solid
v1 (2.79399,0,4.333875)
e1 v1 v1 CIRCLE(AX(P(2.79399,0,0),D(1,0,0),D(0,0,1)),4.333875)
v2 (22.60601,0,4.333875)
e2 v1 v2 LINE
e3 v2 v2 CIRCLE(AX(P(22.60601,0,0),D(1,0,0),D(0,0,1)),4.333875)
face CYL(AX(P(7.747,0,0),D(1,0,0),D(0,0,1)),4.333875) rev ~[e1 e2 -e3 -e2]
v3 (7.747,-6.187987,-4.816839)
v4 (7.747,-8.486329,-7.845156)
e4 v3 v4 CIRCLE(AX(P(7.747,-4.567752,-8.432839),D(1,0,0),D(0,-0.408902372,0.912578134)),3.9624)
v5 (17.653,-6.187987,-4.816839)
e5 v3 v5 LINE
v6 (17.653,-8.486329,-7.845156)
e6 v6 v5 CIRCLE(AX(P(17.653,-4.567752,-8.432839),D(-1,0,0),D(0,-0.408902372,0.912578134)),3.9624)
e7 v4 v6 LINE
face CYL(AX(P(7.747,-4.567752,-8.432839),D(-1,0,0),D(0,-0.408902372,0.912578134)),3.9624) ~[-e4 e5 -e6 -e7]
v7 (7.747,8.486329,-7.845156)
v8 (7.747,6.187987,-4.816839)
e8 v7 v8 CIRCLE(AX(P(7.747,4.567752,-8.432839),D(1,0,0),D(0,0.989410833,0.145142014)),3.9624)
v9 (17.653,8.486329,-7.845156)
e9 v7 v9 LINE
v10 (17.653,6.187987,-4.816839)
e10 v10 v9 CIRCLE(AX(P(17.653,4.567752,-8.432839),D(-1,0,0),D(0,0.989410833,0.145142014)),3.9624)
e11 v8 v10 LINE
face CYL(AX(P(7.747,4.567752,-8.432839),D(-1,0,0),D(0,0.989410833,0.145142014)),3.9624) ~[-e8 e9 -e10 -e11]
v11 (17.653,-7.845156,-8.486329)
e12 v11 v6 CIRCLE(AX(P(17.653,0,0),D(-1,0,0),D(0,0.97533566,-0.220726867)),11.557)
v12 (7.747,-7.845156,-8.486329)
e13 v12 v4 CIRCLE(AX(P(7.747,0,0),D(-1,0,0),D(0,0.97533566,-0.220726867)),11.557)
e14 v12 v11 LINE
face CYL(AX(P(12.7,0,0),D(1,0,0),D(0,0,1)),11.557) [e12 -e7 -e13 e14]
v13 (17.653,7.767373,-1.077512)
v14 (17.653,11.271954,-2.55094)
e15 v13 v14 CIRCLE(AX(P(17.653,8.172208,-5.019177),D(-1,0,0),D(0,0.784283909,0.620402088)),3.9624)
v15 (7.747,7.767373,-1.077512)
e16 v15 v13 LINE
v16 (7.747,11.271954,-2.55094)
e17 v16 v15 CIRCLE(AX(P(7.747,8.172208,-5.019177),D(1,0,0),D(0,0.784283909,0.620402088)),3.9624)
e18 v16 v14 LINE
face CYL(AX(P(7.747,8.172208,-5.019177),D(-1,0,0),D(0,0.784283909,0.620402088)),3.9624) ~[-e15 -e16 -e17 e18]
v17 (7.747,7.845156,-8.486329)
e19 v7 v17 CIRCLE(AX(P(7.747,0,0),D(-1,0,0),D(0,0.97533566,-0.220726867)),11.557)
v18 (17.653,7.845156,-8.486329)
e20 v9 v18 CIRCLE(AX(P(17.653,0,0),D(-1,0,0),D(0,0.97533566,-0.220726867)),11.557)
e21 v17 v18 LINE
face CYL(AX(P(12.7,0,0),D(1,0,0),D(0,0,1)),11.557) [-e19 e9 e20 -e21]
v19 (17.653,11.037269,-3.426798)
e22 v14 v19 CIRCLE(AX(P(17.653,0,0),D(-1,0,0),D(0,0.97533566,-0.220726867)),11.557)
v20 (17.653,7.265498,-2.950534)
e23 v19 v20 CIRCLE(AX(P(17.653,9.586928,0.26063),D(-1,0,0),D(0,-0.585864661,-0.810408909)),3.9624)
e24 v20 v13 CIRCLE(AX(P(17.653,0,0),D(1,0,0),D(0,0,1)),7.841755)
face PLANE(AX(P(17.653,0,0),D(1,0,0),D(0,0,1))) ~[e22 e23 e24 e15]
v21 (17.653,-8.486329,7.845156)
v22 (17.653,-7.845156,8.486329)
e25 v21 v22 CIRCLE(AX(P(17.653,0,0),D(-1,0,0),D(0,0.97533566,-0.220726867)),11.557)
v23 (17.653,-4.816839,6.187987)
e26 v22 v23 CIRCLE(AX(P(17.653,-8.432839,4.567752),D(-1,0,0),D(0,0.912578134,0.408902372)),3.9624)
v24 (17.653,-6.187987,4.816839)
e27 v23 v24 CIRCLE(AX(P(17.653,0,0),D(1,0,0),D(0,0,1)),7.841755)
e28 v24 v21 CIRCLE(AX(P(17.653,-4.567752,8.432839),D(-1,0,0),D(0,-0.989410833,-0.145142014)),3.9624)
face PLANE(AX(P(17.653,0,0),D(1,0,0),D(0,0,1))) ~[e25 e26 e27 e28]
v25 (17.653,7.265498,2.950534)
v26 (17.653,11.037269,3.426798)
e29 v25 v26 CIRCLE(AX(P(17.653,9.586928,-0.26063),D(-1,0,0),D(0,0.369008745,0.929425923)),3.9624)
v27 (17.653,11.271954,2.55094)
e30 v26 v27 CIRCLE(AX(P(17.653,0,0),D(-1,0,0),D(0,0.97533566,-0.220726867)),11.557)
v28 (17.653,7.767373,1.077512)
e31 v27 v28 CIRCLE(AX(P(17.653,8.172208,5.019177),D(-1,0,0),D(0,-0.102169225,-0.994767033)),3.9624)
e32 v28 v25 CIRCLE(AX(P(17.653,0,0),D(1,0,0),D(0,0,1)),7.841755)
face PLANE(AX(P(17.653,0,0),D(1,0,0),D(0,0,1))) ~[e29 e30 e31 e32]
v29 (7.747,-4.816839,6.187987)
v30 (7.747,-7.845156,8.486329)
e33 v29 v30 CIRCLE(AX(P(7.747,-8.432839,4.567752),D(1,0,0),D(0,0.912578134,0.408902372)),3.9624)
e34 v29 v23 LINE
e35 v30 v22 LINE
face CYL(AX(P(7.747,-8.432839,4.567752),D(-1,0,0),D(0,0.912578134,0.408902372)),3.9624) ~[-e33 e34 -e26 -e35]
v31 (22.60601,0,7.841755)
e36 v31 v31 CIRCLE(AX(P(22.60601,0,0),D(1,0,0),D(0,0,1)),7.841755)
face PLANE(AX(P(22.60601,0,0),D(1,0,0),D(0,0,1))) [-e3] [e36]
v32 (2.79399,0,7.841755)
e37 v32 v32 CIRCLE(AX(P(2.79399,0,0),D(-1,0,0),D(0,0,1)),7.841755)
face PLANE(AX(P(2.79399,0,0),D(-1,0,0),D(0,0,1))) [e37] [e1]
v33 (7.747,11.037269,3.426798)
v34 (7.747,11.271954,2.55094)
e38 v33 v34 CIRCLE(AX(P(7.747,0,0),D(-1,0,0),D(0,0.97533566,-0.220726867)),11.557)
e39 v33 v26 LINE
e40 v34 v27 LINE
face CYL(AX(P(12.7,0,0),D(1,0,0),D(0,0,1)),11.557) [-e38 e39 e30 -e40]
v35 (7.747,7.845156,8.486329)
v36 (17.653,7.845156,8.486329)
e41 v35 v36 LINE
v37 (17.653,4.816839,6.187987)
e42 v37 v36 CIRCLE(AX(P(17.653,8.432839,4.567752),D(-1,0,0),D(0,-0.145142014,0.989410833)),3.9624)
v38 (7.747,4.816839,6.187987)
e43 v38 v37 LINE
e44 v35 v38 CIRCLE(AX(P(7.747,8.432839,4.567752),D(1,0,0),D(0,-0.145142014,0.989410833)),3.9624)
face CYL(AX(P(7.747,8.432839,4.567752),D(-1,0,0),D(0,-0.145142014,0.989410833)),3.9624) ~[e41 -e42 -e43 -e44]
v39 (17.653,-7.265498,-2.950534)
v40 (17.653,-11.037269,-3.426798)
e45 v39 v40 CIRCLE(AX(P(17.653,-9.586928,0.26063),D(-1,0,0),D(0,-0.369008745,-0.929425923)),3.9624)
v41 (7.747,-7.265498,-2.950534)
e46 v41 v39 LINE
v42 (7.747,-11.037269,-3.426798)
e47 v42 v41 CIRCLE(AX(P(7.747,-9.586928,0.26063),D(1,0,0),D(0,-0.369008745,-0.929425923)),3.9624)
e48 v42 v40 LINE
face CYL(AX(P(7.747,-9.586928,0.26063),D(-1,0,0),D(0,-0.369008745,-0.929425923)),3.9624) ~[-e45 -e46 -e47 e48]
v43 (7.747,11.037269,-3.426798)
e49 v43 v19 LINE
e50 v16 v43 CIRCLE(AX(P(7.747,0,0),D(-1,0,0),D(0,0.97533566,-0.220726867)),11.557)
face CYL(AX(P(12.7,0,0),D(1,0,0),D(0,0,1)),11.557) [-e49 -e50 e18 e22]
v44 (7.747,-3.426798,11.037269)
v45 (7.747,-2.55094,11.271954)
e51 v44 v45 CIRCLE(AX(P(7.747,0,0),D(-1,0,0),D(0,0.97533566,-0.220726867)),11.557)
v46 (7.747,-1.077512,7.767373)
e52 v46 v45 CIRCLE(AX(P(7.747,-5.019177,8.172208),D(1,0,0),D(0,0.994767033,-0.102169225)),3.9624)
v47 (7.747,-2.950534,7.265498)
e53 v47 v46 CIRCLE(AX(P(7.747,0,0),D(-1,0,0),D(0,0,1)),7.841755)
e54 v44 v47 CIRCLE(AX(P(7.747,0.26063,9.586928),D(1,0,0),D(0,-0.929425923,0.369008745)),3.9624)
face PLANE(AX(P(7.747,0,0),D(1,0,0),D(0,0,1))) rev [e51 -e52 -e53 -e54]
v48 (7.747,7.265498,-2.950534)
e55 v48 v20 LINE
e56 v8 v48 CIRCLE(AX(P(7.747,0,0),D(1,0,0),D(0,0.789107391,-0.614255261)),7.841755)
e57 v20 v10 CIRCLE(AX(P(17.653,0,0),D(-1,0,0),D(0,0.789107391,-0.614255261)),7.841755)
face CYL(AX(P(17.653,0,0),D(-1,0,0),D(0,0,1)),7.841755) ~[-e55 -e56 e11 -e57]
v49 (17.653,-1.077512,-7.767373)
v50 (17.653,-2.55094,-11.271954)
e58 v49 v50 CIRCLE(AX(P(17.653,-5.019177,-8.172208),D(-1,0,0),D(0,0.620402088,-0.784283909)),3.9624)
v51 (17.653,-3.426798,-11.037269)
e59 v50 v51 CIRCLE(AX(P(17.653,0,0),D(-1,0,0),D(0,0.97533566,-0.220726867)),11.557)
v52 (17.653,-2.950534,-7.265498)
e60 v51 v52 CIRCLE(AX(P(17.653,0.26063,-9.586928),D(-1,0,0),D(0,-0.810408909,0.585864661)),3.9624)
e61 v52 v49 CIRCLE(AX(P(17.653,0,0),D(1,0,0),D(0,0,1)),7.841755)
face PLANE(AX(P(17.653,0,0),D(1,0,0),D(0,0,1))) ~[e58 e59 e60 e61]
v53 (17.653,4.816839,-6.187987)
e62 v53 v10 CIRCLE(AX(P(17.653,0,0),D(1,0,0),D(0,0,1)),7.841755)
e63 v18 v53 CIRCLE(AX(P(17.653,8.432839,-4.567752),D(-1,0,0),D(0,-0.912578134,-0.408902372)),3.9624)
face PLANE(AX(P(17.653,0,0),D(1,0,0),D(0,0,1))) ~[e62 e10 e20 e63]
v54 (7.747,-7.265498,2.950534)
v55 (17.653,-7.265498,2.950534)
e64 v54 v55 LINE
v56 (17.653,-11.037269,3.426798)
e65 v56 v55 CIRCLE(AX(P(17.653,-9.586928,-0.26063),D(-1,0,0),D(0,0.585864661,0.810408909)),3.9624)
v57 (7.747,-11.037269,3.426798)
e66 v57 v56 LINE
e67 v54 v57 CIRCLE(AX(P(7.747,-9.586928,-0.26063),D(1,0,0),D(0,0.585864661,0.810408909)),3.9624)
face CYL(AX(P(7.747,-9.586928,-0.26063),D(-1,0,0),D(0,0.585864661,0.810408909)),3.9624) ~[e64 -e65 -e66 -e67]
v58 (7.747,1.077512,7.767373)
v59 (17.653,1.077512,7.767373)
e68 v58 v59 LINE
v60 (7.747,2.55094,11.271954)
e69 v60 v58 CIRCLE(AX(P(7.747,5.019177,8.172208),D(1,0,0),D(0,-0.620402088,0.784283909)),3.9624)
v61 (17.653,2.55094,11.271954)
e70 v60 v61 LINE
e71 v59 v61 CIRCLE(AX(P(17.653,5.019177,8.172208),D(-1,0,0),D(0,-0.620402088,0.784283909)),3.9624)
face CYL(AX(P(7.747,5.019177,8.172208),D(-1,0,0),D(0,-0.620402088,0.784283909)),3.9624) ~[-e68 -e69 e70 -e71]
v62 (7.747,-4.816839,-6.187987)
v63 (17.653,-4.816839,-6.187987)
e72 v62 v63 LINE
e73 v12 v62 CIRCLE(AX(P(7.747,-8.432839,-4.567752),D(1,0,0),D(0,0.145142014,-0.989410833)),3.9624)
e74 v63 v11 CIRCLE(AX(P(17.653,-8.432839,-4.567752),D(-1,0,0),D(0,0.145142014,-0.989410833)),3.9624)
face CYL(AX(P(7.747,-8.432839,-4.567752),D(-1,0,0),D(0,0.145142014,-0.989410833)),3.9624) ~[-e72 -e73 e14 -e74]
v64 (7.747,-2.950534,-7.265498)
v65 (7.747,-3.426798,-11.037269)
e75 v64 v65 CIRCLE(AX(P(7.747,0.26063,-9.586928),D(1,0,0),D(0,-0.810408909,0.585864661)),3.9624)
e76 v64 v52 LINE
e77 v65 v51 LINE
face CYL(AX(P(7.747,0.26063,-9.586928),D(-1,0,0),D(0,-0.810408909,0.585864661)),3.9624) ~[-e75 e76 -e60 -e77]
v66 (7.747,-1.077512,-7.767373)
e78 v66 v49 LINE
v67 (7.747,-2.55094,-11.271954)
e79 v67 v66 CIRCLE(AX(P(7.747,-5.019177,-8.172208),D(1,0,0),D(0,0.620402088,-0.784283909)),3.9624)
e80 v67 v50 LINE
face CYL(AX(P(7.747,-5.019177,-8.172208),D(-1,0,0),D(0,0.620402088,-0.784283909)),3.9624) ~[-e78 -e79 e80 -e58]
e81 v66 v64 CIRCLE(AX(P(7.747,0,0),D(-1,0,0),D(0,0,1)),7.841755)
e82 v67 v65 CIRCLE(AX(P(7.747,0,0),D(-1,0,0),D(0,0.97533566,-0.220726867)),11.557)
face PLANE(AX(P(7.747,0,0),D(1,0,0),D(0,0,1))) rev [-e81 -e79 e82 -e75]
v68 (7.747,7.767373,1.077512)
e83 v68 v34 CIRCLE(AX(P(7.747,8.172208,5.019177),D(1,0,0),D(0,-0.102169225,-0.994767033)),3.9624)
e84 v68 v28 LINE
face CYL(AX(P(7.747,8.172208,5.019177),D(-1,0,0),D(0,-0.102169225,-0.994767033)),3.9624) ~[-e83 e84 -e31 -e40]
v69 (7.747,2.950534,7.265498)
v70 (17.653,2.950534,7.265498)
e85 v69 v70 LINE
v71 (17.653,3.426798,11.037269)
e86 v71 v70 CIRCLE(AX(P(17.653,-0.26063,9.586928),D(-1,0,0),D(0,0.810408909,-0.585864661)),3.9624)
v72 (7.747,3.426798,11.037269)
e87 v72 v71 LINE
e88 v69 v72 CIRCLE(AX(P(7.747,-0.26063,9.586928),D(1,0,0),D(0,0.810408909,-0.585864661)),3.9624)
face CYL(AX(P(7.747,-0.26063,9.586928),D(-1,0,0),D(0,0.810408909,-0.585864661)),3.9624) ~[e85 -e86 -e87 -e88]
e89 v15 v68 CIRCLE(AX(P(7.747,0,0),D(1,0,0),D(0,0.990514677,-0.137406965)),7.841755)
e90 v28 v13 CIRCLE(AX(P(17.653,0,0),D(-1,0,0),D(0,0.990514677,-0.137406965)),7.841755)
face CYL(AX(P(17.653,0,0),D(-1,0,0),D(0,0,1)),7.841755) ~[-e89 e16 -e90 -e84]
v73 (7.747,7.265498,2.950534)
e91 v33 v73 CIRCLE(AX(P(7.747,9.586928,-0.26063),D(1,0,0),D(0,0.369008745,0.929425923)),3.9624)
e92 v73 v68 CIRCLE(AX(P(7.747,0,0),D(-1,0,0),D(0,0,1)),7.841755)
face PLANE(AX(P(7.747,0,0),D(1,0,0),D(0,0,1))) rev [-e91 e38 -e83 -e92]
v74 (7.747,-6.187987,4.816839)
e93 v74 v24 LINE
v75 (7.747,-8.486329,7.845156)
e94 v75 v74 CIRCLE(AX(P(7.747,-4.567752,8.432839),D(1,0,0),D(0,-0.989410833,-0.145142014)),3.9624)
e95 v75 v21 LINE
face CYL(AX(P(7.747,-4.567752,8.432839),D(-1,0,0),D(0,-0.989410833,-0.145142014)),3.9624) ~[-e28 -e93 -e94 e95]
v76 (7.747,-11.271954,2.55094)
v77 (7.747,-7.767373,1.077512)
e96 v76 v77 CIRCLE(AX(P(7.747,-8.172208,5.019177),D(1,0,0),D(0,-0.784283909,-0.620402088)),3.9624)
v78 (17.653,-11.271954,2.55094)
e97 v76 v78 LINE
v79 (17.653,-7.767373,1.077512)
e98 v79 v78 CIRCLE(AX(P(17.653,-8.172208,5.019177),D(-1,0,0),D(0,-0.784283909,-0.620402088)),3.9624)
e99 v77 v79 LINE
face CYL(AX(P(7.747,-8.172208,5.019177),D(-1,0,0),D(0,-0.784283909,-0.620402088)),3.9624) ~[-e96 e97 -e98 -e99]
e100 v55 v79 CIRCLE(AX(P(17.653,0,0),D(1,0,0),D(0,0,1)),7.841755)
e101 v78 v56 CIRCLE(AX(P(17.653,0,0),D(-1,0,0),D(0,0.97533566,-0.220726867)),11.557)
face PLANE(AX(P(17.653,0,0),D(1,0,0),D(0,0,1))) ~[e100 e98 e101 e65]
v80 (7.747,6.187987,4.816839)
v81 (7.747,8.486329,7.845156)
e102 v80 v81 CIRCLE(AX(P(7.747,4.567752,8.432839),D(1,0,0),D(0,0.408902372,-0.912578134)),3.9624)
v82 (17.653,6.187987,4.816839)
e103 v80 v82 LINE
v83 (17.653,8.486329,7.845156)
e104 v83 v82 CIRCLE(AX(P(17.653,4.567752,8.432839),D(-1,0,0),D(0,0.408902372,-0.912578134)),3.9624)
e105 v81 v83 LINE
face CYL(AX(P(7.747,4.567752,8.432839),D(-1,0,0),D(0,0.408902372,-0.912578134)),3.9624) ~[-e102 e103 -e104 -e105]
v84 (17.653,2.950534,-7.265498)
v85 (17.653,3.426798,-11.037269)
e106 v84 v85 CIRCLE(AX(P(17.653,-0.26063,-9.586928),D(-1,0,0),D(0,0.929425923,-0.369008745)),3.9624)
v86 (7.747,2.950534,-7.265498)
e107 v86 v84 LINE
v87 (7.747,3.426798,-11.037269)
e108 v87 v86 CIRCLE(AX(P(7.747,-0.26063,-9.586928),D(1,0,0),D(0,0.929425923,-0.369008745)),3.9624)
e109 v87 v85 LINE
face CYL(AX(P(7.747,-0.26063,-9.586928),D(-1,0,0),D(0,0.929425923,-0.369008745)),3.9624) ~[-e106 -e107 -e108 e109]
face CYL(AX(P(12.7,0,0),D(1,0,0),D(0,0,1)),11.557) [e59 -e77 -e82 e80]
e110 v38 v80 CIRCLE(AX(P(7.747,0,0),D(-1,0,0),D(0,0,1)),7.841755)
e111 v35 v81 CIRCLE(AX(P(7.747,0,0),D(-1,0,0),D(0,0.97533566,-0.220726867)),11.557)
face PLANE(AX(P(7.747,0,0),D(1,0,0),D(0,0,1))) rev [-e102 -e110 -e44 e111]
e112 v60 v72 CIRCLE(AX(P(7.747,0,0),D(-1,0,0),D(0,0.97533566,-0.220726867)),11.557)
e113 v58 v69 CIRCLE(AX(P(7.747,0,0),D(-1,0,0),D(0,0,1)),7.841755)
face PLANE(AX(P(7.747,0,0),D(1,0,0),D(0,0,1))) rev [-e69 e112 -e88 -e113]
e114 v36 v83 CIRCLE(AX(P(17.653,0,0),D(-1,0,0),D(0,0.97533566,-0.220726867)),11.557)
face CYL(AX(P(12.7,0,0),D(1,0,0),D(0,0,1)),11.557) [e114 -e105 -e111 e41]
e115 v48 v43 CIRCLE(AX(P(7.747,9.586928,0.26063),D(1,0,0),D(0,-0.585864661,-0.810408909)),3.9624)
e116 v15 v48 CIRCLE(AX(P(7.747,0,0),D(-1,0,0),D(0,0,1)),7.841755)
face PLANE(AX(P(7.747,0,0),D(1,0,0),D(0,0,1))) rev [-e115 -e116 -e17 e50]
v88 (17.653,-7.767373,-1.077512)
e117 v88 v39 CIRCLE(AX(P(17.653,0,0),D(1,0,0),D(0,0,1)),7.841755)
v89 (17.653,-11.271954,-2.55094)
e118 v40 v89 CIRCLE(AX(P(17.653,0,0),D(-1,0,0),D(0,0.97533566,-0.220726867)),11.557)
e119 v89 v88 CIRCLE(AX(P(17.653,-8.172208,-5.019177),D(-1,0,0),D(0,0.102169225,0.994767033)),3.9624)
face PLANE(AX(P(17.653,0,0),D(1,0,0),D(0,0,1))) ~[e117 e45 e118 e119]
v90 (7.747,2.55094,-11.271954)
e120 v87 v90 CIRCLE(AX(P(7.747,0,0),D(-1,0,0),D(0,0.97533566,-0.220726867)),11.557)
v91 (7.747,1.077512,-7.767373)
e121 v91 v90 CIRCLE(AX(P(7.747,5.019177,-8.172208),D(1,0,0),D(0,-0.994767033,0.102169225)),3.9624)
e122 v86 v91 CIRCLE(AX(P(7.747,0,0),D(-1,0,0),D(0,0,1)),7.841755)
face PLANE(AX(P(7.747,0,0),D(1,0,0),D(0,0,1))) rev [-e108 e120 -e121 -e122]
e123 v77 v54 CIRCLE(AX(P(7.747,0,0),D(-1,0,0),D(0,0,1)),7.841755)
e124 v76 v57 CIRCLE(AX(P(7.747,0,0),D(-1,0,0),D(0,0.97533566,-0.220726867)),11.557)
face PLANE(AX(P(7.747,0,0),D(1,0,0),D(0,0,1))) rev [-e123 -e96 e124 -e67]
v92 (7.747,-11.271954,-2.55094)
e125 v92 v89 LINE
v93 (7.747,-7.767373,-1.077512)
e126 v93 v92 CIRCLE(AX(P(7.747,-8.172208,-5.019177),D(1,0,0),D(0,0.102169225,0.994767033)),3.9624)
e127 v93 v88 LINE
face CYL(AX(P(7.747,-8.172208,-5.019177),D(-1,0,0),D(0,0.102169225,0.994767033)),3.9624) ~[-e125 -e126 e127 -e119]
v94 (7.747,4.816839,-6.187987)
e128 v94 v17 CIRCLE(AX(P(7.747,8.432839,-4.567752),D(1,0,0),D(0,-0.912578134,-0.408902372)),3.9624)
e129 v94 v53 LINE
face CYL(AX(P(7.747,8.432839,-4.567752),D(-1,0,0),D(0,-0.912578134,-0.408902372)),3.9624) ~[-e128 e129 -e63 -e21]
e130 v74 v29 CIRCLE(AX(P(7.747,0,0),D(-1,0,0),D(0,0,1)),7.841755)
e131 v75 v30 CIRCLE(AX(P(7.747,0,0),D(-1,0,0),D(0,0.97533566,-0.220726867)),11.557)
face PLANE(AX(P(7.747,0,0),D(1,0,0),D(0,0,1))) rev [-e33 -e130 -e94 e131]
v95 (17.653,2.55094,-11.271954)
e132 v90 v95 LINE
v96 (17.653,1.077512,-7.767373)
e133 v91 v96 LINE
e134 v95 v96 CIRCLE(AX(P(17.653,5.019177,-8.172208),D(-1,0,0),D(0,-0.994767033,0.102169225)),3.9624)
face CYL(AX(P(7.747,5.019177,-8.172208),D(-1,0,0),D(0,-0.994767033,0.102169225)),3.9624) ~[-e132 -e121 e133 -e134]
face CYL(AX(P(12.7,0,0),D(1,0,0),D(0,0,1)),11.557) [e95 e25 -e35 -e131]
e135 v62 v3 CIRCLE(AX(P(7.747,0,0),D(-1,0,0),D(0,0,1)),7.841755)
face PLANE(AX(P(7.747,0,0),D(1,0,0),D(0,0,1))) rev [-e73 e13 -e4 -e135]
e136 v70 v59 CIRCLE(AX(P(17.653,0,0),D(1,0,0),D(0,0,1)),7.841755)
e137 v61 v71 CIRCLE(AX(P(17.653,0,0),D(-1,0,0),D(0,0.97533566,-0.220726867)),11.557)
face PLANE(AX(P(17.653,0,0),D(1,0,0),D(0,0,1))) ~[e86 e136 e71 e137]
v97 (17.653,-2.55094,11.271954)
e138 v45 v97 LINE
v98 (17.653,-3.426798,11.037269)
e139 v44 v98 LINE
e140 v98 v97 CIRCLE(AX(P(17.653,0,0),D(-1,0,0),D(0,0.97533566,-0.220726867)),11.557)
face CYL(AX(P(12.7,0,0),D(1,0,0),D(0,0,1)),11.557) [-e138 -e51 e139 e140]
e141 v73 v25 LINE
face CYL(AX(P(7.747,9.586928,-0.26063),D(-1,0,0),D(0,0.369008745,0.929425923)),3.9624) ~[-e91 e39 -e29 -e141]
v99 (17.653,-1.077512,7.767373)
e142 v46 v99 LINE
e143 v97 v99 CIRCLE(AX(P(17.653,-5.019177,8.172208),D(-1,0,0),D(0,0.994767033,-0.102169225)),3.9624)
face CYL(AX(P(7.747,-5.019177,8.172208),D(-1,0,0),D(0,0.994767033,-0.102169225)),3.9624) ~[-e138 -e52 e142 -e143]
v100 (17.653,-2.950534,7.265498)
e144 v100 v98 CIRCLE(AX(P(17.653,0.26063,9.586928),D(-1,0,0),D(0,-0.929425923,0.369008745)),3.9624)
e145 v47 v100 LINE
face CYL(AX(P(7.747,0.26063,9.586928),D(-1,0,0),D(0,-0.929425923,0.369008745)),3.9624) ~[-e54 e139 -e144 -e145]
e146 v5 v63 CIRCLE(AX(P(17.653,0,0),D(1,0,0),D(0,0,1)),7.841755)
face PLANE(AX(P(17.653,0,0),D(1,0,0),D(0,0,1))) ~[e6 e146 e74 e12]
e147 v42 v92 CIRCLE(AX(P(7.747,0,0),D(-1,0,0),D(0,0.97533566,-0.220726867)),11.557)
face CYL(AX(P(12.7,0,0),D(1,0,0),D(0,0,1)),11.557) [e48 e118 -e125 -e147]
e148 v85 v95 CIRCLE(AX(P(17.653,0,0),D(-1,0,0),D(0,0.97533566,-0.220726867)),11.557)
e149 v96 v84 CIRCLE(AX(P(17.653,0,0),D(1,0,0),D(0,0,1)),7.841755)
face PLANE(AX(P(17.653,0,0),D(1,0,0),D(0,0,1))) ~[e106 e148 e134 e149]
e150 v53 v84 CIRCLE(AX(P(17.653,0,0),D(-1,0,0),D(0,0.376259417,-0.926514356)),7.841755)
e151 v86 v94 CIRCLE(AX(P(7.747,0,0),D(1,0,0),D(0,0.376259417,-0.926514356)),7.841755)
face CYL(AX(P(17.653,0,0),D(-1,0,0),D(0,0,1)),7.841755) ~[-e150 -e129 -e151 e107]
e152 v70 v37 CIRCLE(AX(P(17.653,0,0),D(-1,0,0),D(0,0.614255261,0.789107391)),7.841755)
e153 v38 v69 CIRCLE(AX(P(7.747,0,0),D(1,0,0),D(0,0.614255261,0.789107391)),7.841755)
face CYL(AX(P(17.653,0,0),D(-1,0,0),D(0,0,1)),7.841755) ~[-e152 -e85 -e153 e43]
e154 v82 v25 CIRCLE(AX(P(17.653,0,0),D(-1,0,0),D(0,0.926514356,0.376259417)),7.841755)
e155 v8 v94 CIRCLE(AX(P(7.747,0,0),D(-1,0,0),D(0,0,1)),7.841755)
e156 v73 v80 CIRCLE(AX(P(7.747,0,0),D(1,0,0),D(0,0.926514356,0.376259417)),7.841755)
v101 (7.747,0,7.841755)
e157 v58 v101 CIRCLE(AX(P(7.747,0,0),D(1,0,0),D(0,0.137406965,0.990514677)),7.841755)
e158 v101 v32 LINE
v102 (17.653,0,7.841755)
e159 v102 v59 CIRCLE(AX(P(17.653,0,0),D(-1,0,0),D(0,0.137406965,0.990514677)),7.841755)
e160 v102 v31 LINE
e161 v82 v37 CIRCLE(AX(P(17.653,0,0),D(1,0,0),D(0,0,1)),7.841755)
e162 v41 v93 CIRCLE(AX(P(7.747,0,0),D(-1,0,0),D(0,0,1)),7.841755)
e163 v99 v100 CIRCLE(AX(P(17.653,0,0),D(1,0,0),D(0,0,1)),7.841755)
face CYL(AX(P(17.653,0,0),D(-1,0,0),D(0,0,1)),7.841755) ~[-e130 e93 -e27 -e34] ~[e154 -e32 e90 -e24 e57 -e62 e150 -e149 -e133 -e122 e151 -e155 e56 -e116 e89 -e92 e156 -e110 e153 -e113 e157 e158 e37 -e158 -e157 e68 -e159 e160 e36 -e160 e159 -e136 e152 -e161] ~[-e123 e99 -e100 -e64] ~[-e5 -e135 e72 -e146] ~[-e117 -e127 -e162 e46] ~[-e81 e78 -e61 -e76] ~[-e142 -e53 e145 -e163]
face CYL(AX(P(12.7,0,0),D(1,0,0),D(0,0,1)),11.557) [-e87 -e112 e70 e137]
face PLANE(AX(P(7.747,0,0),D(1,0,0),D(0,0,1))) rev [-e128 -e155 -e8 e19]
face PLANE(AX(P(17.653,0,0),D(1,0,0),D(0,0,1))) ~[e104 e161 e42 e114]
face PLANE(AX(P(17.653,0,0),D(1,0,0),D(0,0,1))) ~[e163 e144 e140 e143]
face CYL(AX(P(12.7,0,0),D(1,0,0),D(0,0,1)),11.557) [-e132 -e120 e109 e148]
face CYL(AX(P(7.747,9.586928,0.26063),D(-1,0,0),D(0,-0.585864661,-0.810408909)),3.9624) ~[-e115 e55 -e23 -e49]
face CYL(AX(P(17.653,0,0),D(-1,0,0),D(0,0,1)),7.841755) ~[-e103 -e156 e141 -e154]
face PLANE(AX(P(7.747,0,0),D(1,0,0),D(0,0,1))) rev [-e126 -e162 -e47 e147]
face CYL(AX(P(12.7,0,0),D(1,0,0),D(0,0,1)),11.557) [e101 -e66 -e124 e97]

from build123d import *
from build123d.topology import SkipClean

# Parameters (mm, degrees)
BASPROSKE_W       = 25.4
BASPROSKE_H       = 29.633333333
TOOTHCUT_DEPTH    = 50.004376222
TEETHCUTS_COUNT   = 12
TEETHCUTS_ANGLE   = 330
HUBNEABOTSKE_R    = 20.107063333
HUBNEARBOTH_DEPTH = 12.7000254
HUBFARSKE_R       = 20.107063333
HUBFAR_DEPTH      = 12.7000254
BORSKE_R          = 11.1125
BORE_DEPTH        = 50.8000508
SCALE1_SCALE      = 0.39


with BuildPart() as part:
    # BasProSke → Base-Revolve (revolve)
    with BuildSketch(Plane(origin=(0, 0, 0), x_dir=(1, 0, 0), z_dir=(0, 1, 0)), mode=Mode.PRIVATE) as base_revolve_sk:
        with Locations((12.7, 14.816666667)):
            Rectangle(BASPROSKE_W, BASPROSKE_H)
    revolve(base_revolve_sk.sketch.rotate(Axis((-10, 0, 0), (1, 0, 0)), 180), axis=Axis((-10, 0, 0), (1, 0, 0)))

    # TooCutSke → ToothCut (cut, through all)
    with BuildSketch(Plane(origin=(0, 0, 0), x_dir=(0, 0, -1), z_dir=(1, 0, 0))):
        with BuildLine():
            ThreePointArc((2.76285054, 19.91634135), (0, 20.107063333), (-2.76285054, 19.91634135))
            ThreePointArc((-2.76285054, 19.91634135), (-3.510108668, 24.907095847), (-6.566398379, 28.922705186))
            ThreePointArc((-6.566398379, 28.922705186), (0, 29.658733333), (6.566398379, 28.922705186))
            ThreePointArc((6.566398379, 28.922705186), (3.510108668, 24.907095847), (2.76285054, 19.91634135))
        make_face()
    toothcut = extrude(amount=TOOTHCUT_DEPTH, mode=Mode.SUBTRACT)

    # TeethCuts: ToothCut ×12 about axis
    teethcuts_axis = Axis((-10, 0, 0), (1, 0, 0))
    for i in range(1, TEETHCUTS_COUNT):
        add(toothcut.rotate(teethcuts_axis, i * TEETHCUTS_ANGLE / (TEETHCUTS_COUNT - 1)), mode=Mode.SUBTRACT)

    # HubNeaBotSke → HubNearBoth (add)
    with SkipClean():  # the faces are left unmerged after this step: merging them gives an invalid solid
        with BuildSketch(Plane.ZY):
            Circle(HUBNEABOTSKE_R)
        extrude(amount=HUBNEARBOTH_DEPTH)

    # HubFarSke → HubFar (add)
    with SkipClean():  # the faces are left unmerged after this step: merging them gives an invalid solid
        with BuildSketch(Plane(origin=(25.4, 0, 0), x_dir=(0, 0, -1), z_dir=(1, 0, 0))):
            with Locations(Location((0, 0, 0), (0, 0, 180))):
                Circle(HUBFARSKE_R)
        extrude(amount=HUBFAR_DEPTH)

    # BorSke → Bore (cut, symmetric)
    with SkipClean():  # the faces are left unmerged after this step: merging them gives an invalid solid
        with BuildSketch(Plane(origin=(0, 0, 0), x_dir=(0, 0, -1), z_dir=(1, 0, 0))):
            with Locations(Location((0, 0, 0), (0, 0, 180))):
                Circle(BORSKE_R)
        extrude(amount=BORE_DEPTH, both=True, mode=Mode.SUBTRACT)


with BuildPart() as part_1:
    # Scale1: scaled about (12.7, 0, 0)
    add(part.part.scale(SCALE1_SCALE).moved(Location((7.747, 0, 0))))


solid = part_1.part
